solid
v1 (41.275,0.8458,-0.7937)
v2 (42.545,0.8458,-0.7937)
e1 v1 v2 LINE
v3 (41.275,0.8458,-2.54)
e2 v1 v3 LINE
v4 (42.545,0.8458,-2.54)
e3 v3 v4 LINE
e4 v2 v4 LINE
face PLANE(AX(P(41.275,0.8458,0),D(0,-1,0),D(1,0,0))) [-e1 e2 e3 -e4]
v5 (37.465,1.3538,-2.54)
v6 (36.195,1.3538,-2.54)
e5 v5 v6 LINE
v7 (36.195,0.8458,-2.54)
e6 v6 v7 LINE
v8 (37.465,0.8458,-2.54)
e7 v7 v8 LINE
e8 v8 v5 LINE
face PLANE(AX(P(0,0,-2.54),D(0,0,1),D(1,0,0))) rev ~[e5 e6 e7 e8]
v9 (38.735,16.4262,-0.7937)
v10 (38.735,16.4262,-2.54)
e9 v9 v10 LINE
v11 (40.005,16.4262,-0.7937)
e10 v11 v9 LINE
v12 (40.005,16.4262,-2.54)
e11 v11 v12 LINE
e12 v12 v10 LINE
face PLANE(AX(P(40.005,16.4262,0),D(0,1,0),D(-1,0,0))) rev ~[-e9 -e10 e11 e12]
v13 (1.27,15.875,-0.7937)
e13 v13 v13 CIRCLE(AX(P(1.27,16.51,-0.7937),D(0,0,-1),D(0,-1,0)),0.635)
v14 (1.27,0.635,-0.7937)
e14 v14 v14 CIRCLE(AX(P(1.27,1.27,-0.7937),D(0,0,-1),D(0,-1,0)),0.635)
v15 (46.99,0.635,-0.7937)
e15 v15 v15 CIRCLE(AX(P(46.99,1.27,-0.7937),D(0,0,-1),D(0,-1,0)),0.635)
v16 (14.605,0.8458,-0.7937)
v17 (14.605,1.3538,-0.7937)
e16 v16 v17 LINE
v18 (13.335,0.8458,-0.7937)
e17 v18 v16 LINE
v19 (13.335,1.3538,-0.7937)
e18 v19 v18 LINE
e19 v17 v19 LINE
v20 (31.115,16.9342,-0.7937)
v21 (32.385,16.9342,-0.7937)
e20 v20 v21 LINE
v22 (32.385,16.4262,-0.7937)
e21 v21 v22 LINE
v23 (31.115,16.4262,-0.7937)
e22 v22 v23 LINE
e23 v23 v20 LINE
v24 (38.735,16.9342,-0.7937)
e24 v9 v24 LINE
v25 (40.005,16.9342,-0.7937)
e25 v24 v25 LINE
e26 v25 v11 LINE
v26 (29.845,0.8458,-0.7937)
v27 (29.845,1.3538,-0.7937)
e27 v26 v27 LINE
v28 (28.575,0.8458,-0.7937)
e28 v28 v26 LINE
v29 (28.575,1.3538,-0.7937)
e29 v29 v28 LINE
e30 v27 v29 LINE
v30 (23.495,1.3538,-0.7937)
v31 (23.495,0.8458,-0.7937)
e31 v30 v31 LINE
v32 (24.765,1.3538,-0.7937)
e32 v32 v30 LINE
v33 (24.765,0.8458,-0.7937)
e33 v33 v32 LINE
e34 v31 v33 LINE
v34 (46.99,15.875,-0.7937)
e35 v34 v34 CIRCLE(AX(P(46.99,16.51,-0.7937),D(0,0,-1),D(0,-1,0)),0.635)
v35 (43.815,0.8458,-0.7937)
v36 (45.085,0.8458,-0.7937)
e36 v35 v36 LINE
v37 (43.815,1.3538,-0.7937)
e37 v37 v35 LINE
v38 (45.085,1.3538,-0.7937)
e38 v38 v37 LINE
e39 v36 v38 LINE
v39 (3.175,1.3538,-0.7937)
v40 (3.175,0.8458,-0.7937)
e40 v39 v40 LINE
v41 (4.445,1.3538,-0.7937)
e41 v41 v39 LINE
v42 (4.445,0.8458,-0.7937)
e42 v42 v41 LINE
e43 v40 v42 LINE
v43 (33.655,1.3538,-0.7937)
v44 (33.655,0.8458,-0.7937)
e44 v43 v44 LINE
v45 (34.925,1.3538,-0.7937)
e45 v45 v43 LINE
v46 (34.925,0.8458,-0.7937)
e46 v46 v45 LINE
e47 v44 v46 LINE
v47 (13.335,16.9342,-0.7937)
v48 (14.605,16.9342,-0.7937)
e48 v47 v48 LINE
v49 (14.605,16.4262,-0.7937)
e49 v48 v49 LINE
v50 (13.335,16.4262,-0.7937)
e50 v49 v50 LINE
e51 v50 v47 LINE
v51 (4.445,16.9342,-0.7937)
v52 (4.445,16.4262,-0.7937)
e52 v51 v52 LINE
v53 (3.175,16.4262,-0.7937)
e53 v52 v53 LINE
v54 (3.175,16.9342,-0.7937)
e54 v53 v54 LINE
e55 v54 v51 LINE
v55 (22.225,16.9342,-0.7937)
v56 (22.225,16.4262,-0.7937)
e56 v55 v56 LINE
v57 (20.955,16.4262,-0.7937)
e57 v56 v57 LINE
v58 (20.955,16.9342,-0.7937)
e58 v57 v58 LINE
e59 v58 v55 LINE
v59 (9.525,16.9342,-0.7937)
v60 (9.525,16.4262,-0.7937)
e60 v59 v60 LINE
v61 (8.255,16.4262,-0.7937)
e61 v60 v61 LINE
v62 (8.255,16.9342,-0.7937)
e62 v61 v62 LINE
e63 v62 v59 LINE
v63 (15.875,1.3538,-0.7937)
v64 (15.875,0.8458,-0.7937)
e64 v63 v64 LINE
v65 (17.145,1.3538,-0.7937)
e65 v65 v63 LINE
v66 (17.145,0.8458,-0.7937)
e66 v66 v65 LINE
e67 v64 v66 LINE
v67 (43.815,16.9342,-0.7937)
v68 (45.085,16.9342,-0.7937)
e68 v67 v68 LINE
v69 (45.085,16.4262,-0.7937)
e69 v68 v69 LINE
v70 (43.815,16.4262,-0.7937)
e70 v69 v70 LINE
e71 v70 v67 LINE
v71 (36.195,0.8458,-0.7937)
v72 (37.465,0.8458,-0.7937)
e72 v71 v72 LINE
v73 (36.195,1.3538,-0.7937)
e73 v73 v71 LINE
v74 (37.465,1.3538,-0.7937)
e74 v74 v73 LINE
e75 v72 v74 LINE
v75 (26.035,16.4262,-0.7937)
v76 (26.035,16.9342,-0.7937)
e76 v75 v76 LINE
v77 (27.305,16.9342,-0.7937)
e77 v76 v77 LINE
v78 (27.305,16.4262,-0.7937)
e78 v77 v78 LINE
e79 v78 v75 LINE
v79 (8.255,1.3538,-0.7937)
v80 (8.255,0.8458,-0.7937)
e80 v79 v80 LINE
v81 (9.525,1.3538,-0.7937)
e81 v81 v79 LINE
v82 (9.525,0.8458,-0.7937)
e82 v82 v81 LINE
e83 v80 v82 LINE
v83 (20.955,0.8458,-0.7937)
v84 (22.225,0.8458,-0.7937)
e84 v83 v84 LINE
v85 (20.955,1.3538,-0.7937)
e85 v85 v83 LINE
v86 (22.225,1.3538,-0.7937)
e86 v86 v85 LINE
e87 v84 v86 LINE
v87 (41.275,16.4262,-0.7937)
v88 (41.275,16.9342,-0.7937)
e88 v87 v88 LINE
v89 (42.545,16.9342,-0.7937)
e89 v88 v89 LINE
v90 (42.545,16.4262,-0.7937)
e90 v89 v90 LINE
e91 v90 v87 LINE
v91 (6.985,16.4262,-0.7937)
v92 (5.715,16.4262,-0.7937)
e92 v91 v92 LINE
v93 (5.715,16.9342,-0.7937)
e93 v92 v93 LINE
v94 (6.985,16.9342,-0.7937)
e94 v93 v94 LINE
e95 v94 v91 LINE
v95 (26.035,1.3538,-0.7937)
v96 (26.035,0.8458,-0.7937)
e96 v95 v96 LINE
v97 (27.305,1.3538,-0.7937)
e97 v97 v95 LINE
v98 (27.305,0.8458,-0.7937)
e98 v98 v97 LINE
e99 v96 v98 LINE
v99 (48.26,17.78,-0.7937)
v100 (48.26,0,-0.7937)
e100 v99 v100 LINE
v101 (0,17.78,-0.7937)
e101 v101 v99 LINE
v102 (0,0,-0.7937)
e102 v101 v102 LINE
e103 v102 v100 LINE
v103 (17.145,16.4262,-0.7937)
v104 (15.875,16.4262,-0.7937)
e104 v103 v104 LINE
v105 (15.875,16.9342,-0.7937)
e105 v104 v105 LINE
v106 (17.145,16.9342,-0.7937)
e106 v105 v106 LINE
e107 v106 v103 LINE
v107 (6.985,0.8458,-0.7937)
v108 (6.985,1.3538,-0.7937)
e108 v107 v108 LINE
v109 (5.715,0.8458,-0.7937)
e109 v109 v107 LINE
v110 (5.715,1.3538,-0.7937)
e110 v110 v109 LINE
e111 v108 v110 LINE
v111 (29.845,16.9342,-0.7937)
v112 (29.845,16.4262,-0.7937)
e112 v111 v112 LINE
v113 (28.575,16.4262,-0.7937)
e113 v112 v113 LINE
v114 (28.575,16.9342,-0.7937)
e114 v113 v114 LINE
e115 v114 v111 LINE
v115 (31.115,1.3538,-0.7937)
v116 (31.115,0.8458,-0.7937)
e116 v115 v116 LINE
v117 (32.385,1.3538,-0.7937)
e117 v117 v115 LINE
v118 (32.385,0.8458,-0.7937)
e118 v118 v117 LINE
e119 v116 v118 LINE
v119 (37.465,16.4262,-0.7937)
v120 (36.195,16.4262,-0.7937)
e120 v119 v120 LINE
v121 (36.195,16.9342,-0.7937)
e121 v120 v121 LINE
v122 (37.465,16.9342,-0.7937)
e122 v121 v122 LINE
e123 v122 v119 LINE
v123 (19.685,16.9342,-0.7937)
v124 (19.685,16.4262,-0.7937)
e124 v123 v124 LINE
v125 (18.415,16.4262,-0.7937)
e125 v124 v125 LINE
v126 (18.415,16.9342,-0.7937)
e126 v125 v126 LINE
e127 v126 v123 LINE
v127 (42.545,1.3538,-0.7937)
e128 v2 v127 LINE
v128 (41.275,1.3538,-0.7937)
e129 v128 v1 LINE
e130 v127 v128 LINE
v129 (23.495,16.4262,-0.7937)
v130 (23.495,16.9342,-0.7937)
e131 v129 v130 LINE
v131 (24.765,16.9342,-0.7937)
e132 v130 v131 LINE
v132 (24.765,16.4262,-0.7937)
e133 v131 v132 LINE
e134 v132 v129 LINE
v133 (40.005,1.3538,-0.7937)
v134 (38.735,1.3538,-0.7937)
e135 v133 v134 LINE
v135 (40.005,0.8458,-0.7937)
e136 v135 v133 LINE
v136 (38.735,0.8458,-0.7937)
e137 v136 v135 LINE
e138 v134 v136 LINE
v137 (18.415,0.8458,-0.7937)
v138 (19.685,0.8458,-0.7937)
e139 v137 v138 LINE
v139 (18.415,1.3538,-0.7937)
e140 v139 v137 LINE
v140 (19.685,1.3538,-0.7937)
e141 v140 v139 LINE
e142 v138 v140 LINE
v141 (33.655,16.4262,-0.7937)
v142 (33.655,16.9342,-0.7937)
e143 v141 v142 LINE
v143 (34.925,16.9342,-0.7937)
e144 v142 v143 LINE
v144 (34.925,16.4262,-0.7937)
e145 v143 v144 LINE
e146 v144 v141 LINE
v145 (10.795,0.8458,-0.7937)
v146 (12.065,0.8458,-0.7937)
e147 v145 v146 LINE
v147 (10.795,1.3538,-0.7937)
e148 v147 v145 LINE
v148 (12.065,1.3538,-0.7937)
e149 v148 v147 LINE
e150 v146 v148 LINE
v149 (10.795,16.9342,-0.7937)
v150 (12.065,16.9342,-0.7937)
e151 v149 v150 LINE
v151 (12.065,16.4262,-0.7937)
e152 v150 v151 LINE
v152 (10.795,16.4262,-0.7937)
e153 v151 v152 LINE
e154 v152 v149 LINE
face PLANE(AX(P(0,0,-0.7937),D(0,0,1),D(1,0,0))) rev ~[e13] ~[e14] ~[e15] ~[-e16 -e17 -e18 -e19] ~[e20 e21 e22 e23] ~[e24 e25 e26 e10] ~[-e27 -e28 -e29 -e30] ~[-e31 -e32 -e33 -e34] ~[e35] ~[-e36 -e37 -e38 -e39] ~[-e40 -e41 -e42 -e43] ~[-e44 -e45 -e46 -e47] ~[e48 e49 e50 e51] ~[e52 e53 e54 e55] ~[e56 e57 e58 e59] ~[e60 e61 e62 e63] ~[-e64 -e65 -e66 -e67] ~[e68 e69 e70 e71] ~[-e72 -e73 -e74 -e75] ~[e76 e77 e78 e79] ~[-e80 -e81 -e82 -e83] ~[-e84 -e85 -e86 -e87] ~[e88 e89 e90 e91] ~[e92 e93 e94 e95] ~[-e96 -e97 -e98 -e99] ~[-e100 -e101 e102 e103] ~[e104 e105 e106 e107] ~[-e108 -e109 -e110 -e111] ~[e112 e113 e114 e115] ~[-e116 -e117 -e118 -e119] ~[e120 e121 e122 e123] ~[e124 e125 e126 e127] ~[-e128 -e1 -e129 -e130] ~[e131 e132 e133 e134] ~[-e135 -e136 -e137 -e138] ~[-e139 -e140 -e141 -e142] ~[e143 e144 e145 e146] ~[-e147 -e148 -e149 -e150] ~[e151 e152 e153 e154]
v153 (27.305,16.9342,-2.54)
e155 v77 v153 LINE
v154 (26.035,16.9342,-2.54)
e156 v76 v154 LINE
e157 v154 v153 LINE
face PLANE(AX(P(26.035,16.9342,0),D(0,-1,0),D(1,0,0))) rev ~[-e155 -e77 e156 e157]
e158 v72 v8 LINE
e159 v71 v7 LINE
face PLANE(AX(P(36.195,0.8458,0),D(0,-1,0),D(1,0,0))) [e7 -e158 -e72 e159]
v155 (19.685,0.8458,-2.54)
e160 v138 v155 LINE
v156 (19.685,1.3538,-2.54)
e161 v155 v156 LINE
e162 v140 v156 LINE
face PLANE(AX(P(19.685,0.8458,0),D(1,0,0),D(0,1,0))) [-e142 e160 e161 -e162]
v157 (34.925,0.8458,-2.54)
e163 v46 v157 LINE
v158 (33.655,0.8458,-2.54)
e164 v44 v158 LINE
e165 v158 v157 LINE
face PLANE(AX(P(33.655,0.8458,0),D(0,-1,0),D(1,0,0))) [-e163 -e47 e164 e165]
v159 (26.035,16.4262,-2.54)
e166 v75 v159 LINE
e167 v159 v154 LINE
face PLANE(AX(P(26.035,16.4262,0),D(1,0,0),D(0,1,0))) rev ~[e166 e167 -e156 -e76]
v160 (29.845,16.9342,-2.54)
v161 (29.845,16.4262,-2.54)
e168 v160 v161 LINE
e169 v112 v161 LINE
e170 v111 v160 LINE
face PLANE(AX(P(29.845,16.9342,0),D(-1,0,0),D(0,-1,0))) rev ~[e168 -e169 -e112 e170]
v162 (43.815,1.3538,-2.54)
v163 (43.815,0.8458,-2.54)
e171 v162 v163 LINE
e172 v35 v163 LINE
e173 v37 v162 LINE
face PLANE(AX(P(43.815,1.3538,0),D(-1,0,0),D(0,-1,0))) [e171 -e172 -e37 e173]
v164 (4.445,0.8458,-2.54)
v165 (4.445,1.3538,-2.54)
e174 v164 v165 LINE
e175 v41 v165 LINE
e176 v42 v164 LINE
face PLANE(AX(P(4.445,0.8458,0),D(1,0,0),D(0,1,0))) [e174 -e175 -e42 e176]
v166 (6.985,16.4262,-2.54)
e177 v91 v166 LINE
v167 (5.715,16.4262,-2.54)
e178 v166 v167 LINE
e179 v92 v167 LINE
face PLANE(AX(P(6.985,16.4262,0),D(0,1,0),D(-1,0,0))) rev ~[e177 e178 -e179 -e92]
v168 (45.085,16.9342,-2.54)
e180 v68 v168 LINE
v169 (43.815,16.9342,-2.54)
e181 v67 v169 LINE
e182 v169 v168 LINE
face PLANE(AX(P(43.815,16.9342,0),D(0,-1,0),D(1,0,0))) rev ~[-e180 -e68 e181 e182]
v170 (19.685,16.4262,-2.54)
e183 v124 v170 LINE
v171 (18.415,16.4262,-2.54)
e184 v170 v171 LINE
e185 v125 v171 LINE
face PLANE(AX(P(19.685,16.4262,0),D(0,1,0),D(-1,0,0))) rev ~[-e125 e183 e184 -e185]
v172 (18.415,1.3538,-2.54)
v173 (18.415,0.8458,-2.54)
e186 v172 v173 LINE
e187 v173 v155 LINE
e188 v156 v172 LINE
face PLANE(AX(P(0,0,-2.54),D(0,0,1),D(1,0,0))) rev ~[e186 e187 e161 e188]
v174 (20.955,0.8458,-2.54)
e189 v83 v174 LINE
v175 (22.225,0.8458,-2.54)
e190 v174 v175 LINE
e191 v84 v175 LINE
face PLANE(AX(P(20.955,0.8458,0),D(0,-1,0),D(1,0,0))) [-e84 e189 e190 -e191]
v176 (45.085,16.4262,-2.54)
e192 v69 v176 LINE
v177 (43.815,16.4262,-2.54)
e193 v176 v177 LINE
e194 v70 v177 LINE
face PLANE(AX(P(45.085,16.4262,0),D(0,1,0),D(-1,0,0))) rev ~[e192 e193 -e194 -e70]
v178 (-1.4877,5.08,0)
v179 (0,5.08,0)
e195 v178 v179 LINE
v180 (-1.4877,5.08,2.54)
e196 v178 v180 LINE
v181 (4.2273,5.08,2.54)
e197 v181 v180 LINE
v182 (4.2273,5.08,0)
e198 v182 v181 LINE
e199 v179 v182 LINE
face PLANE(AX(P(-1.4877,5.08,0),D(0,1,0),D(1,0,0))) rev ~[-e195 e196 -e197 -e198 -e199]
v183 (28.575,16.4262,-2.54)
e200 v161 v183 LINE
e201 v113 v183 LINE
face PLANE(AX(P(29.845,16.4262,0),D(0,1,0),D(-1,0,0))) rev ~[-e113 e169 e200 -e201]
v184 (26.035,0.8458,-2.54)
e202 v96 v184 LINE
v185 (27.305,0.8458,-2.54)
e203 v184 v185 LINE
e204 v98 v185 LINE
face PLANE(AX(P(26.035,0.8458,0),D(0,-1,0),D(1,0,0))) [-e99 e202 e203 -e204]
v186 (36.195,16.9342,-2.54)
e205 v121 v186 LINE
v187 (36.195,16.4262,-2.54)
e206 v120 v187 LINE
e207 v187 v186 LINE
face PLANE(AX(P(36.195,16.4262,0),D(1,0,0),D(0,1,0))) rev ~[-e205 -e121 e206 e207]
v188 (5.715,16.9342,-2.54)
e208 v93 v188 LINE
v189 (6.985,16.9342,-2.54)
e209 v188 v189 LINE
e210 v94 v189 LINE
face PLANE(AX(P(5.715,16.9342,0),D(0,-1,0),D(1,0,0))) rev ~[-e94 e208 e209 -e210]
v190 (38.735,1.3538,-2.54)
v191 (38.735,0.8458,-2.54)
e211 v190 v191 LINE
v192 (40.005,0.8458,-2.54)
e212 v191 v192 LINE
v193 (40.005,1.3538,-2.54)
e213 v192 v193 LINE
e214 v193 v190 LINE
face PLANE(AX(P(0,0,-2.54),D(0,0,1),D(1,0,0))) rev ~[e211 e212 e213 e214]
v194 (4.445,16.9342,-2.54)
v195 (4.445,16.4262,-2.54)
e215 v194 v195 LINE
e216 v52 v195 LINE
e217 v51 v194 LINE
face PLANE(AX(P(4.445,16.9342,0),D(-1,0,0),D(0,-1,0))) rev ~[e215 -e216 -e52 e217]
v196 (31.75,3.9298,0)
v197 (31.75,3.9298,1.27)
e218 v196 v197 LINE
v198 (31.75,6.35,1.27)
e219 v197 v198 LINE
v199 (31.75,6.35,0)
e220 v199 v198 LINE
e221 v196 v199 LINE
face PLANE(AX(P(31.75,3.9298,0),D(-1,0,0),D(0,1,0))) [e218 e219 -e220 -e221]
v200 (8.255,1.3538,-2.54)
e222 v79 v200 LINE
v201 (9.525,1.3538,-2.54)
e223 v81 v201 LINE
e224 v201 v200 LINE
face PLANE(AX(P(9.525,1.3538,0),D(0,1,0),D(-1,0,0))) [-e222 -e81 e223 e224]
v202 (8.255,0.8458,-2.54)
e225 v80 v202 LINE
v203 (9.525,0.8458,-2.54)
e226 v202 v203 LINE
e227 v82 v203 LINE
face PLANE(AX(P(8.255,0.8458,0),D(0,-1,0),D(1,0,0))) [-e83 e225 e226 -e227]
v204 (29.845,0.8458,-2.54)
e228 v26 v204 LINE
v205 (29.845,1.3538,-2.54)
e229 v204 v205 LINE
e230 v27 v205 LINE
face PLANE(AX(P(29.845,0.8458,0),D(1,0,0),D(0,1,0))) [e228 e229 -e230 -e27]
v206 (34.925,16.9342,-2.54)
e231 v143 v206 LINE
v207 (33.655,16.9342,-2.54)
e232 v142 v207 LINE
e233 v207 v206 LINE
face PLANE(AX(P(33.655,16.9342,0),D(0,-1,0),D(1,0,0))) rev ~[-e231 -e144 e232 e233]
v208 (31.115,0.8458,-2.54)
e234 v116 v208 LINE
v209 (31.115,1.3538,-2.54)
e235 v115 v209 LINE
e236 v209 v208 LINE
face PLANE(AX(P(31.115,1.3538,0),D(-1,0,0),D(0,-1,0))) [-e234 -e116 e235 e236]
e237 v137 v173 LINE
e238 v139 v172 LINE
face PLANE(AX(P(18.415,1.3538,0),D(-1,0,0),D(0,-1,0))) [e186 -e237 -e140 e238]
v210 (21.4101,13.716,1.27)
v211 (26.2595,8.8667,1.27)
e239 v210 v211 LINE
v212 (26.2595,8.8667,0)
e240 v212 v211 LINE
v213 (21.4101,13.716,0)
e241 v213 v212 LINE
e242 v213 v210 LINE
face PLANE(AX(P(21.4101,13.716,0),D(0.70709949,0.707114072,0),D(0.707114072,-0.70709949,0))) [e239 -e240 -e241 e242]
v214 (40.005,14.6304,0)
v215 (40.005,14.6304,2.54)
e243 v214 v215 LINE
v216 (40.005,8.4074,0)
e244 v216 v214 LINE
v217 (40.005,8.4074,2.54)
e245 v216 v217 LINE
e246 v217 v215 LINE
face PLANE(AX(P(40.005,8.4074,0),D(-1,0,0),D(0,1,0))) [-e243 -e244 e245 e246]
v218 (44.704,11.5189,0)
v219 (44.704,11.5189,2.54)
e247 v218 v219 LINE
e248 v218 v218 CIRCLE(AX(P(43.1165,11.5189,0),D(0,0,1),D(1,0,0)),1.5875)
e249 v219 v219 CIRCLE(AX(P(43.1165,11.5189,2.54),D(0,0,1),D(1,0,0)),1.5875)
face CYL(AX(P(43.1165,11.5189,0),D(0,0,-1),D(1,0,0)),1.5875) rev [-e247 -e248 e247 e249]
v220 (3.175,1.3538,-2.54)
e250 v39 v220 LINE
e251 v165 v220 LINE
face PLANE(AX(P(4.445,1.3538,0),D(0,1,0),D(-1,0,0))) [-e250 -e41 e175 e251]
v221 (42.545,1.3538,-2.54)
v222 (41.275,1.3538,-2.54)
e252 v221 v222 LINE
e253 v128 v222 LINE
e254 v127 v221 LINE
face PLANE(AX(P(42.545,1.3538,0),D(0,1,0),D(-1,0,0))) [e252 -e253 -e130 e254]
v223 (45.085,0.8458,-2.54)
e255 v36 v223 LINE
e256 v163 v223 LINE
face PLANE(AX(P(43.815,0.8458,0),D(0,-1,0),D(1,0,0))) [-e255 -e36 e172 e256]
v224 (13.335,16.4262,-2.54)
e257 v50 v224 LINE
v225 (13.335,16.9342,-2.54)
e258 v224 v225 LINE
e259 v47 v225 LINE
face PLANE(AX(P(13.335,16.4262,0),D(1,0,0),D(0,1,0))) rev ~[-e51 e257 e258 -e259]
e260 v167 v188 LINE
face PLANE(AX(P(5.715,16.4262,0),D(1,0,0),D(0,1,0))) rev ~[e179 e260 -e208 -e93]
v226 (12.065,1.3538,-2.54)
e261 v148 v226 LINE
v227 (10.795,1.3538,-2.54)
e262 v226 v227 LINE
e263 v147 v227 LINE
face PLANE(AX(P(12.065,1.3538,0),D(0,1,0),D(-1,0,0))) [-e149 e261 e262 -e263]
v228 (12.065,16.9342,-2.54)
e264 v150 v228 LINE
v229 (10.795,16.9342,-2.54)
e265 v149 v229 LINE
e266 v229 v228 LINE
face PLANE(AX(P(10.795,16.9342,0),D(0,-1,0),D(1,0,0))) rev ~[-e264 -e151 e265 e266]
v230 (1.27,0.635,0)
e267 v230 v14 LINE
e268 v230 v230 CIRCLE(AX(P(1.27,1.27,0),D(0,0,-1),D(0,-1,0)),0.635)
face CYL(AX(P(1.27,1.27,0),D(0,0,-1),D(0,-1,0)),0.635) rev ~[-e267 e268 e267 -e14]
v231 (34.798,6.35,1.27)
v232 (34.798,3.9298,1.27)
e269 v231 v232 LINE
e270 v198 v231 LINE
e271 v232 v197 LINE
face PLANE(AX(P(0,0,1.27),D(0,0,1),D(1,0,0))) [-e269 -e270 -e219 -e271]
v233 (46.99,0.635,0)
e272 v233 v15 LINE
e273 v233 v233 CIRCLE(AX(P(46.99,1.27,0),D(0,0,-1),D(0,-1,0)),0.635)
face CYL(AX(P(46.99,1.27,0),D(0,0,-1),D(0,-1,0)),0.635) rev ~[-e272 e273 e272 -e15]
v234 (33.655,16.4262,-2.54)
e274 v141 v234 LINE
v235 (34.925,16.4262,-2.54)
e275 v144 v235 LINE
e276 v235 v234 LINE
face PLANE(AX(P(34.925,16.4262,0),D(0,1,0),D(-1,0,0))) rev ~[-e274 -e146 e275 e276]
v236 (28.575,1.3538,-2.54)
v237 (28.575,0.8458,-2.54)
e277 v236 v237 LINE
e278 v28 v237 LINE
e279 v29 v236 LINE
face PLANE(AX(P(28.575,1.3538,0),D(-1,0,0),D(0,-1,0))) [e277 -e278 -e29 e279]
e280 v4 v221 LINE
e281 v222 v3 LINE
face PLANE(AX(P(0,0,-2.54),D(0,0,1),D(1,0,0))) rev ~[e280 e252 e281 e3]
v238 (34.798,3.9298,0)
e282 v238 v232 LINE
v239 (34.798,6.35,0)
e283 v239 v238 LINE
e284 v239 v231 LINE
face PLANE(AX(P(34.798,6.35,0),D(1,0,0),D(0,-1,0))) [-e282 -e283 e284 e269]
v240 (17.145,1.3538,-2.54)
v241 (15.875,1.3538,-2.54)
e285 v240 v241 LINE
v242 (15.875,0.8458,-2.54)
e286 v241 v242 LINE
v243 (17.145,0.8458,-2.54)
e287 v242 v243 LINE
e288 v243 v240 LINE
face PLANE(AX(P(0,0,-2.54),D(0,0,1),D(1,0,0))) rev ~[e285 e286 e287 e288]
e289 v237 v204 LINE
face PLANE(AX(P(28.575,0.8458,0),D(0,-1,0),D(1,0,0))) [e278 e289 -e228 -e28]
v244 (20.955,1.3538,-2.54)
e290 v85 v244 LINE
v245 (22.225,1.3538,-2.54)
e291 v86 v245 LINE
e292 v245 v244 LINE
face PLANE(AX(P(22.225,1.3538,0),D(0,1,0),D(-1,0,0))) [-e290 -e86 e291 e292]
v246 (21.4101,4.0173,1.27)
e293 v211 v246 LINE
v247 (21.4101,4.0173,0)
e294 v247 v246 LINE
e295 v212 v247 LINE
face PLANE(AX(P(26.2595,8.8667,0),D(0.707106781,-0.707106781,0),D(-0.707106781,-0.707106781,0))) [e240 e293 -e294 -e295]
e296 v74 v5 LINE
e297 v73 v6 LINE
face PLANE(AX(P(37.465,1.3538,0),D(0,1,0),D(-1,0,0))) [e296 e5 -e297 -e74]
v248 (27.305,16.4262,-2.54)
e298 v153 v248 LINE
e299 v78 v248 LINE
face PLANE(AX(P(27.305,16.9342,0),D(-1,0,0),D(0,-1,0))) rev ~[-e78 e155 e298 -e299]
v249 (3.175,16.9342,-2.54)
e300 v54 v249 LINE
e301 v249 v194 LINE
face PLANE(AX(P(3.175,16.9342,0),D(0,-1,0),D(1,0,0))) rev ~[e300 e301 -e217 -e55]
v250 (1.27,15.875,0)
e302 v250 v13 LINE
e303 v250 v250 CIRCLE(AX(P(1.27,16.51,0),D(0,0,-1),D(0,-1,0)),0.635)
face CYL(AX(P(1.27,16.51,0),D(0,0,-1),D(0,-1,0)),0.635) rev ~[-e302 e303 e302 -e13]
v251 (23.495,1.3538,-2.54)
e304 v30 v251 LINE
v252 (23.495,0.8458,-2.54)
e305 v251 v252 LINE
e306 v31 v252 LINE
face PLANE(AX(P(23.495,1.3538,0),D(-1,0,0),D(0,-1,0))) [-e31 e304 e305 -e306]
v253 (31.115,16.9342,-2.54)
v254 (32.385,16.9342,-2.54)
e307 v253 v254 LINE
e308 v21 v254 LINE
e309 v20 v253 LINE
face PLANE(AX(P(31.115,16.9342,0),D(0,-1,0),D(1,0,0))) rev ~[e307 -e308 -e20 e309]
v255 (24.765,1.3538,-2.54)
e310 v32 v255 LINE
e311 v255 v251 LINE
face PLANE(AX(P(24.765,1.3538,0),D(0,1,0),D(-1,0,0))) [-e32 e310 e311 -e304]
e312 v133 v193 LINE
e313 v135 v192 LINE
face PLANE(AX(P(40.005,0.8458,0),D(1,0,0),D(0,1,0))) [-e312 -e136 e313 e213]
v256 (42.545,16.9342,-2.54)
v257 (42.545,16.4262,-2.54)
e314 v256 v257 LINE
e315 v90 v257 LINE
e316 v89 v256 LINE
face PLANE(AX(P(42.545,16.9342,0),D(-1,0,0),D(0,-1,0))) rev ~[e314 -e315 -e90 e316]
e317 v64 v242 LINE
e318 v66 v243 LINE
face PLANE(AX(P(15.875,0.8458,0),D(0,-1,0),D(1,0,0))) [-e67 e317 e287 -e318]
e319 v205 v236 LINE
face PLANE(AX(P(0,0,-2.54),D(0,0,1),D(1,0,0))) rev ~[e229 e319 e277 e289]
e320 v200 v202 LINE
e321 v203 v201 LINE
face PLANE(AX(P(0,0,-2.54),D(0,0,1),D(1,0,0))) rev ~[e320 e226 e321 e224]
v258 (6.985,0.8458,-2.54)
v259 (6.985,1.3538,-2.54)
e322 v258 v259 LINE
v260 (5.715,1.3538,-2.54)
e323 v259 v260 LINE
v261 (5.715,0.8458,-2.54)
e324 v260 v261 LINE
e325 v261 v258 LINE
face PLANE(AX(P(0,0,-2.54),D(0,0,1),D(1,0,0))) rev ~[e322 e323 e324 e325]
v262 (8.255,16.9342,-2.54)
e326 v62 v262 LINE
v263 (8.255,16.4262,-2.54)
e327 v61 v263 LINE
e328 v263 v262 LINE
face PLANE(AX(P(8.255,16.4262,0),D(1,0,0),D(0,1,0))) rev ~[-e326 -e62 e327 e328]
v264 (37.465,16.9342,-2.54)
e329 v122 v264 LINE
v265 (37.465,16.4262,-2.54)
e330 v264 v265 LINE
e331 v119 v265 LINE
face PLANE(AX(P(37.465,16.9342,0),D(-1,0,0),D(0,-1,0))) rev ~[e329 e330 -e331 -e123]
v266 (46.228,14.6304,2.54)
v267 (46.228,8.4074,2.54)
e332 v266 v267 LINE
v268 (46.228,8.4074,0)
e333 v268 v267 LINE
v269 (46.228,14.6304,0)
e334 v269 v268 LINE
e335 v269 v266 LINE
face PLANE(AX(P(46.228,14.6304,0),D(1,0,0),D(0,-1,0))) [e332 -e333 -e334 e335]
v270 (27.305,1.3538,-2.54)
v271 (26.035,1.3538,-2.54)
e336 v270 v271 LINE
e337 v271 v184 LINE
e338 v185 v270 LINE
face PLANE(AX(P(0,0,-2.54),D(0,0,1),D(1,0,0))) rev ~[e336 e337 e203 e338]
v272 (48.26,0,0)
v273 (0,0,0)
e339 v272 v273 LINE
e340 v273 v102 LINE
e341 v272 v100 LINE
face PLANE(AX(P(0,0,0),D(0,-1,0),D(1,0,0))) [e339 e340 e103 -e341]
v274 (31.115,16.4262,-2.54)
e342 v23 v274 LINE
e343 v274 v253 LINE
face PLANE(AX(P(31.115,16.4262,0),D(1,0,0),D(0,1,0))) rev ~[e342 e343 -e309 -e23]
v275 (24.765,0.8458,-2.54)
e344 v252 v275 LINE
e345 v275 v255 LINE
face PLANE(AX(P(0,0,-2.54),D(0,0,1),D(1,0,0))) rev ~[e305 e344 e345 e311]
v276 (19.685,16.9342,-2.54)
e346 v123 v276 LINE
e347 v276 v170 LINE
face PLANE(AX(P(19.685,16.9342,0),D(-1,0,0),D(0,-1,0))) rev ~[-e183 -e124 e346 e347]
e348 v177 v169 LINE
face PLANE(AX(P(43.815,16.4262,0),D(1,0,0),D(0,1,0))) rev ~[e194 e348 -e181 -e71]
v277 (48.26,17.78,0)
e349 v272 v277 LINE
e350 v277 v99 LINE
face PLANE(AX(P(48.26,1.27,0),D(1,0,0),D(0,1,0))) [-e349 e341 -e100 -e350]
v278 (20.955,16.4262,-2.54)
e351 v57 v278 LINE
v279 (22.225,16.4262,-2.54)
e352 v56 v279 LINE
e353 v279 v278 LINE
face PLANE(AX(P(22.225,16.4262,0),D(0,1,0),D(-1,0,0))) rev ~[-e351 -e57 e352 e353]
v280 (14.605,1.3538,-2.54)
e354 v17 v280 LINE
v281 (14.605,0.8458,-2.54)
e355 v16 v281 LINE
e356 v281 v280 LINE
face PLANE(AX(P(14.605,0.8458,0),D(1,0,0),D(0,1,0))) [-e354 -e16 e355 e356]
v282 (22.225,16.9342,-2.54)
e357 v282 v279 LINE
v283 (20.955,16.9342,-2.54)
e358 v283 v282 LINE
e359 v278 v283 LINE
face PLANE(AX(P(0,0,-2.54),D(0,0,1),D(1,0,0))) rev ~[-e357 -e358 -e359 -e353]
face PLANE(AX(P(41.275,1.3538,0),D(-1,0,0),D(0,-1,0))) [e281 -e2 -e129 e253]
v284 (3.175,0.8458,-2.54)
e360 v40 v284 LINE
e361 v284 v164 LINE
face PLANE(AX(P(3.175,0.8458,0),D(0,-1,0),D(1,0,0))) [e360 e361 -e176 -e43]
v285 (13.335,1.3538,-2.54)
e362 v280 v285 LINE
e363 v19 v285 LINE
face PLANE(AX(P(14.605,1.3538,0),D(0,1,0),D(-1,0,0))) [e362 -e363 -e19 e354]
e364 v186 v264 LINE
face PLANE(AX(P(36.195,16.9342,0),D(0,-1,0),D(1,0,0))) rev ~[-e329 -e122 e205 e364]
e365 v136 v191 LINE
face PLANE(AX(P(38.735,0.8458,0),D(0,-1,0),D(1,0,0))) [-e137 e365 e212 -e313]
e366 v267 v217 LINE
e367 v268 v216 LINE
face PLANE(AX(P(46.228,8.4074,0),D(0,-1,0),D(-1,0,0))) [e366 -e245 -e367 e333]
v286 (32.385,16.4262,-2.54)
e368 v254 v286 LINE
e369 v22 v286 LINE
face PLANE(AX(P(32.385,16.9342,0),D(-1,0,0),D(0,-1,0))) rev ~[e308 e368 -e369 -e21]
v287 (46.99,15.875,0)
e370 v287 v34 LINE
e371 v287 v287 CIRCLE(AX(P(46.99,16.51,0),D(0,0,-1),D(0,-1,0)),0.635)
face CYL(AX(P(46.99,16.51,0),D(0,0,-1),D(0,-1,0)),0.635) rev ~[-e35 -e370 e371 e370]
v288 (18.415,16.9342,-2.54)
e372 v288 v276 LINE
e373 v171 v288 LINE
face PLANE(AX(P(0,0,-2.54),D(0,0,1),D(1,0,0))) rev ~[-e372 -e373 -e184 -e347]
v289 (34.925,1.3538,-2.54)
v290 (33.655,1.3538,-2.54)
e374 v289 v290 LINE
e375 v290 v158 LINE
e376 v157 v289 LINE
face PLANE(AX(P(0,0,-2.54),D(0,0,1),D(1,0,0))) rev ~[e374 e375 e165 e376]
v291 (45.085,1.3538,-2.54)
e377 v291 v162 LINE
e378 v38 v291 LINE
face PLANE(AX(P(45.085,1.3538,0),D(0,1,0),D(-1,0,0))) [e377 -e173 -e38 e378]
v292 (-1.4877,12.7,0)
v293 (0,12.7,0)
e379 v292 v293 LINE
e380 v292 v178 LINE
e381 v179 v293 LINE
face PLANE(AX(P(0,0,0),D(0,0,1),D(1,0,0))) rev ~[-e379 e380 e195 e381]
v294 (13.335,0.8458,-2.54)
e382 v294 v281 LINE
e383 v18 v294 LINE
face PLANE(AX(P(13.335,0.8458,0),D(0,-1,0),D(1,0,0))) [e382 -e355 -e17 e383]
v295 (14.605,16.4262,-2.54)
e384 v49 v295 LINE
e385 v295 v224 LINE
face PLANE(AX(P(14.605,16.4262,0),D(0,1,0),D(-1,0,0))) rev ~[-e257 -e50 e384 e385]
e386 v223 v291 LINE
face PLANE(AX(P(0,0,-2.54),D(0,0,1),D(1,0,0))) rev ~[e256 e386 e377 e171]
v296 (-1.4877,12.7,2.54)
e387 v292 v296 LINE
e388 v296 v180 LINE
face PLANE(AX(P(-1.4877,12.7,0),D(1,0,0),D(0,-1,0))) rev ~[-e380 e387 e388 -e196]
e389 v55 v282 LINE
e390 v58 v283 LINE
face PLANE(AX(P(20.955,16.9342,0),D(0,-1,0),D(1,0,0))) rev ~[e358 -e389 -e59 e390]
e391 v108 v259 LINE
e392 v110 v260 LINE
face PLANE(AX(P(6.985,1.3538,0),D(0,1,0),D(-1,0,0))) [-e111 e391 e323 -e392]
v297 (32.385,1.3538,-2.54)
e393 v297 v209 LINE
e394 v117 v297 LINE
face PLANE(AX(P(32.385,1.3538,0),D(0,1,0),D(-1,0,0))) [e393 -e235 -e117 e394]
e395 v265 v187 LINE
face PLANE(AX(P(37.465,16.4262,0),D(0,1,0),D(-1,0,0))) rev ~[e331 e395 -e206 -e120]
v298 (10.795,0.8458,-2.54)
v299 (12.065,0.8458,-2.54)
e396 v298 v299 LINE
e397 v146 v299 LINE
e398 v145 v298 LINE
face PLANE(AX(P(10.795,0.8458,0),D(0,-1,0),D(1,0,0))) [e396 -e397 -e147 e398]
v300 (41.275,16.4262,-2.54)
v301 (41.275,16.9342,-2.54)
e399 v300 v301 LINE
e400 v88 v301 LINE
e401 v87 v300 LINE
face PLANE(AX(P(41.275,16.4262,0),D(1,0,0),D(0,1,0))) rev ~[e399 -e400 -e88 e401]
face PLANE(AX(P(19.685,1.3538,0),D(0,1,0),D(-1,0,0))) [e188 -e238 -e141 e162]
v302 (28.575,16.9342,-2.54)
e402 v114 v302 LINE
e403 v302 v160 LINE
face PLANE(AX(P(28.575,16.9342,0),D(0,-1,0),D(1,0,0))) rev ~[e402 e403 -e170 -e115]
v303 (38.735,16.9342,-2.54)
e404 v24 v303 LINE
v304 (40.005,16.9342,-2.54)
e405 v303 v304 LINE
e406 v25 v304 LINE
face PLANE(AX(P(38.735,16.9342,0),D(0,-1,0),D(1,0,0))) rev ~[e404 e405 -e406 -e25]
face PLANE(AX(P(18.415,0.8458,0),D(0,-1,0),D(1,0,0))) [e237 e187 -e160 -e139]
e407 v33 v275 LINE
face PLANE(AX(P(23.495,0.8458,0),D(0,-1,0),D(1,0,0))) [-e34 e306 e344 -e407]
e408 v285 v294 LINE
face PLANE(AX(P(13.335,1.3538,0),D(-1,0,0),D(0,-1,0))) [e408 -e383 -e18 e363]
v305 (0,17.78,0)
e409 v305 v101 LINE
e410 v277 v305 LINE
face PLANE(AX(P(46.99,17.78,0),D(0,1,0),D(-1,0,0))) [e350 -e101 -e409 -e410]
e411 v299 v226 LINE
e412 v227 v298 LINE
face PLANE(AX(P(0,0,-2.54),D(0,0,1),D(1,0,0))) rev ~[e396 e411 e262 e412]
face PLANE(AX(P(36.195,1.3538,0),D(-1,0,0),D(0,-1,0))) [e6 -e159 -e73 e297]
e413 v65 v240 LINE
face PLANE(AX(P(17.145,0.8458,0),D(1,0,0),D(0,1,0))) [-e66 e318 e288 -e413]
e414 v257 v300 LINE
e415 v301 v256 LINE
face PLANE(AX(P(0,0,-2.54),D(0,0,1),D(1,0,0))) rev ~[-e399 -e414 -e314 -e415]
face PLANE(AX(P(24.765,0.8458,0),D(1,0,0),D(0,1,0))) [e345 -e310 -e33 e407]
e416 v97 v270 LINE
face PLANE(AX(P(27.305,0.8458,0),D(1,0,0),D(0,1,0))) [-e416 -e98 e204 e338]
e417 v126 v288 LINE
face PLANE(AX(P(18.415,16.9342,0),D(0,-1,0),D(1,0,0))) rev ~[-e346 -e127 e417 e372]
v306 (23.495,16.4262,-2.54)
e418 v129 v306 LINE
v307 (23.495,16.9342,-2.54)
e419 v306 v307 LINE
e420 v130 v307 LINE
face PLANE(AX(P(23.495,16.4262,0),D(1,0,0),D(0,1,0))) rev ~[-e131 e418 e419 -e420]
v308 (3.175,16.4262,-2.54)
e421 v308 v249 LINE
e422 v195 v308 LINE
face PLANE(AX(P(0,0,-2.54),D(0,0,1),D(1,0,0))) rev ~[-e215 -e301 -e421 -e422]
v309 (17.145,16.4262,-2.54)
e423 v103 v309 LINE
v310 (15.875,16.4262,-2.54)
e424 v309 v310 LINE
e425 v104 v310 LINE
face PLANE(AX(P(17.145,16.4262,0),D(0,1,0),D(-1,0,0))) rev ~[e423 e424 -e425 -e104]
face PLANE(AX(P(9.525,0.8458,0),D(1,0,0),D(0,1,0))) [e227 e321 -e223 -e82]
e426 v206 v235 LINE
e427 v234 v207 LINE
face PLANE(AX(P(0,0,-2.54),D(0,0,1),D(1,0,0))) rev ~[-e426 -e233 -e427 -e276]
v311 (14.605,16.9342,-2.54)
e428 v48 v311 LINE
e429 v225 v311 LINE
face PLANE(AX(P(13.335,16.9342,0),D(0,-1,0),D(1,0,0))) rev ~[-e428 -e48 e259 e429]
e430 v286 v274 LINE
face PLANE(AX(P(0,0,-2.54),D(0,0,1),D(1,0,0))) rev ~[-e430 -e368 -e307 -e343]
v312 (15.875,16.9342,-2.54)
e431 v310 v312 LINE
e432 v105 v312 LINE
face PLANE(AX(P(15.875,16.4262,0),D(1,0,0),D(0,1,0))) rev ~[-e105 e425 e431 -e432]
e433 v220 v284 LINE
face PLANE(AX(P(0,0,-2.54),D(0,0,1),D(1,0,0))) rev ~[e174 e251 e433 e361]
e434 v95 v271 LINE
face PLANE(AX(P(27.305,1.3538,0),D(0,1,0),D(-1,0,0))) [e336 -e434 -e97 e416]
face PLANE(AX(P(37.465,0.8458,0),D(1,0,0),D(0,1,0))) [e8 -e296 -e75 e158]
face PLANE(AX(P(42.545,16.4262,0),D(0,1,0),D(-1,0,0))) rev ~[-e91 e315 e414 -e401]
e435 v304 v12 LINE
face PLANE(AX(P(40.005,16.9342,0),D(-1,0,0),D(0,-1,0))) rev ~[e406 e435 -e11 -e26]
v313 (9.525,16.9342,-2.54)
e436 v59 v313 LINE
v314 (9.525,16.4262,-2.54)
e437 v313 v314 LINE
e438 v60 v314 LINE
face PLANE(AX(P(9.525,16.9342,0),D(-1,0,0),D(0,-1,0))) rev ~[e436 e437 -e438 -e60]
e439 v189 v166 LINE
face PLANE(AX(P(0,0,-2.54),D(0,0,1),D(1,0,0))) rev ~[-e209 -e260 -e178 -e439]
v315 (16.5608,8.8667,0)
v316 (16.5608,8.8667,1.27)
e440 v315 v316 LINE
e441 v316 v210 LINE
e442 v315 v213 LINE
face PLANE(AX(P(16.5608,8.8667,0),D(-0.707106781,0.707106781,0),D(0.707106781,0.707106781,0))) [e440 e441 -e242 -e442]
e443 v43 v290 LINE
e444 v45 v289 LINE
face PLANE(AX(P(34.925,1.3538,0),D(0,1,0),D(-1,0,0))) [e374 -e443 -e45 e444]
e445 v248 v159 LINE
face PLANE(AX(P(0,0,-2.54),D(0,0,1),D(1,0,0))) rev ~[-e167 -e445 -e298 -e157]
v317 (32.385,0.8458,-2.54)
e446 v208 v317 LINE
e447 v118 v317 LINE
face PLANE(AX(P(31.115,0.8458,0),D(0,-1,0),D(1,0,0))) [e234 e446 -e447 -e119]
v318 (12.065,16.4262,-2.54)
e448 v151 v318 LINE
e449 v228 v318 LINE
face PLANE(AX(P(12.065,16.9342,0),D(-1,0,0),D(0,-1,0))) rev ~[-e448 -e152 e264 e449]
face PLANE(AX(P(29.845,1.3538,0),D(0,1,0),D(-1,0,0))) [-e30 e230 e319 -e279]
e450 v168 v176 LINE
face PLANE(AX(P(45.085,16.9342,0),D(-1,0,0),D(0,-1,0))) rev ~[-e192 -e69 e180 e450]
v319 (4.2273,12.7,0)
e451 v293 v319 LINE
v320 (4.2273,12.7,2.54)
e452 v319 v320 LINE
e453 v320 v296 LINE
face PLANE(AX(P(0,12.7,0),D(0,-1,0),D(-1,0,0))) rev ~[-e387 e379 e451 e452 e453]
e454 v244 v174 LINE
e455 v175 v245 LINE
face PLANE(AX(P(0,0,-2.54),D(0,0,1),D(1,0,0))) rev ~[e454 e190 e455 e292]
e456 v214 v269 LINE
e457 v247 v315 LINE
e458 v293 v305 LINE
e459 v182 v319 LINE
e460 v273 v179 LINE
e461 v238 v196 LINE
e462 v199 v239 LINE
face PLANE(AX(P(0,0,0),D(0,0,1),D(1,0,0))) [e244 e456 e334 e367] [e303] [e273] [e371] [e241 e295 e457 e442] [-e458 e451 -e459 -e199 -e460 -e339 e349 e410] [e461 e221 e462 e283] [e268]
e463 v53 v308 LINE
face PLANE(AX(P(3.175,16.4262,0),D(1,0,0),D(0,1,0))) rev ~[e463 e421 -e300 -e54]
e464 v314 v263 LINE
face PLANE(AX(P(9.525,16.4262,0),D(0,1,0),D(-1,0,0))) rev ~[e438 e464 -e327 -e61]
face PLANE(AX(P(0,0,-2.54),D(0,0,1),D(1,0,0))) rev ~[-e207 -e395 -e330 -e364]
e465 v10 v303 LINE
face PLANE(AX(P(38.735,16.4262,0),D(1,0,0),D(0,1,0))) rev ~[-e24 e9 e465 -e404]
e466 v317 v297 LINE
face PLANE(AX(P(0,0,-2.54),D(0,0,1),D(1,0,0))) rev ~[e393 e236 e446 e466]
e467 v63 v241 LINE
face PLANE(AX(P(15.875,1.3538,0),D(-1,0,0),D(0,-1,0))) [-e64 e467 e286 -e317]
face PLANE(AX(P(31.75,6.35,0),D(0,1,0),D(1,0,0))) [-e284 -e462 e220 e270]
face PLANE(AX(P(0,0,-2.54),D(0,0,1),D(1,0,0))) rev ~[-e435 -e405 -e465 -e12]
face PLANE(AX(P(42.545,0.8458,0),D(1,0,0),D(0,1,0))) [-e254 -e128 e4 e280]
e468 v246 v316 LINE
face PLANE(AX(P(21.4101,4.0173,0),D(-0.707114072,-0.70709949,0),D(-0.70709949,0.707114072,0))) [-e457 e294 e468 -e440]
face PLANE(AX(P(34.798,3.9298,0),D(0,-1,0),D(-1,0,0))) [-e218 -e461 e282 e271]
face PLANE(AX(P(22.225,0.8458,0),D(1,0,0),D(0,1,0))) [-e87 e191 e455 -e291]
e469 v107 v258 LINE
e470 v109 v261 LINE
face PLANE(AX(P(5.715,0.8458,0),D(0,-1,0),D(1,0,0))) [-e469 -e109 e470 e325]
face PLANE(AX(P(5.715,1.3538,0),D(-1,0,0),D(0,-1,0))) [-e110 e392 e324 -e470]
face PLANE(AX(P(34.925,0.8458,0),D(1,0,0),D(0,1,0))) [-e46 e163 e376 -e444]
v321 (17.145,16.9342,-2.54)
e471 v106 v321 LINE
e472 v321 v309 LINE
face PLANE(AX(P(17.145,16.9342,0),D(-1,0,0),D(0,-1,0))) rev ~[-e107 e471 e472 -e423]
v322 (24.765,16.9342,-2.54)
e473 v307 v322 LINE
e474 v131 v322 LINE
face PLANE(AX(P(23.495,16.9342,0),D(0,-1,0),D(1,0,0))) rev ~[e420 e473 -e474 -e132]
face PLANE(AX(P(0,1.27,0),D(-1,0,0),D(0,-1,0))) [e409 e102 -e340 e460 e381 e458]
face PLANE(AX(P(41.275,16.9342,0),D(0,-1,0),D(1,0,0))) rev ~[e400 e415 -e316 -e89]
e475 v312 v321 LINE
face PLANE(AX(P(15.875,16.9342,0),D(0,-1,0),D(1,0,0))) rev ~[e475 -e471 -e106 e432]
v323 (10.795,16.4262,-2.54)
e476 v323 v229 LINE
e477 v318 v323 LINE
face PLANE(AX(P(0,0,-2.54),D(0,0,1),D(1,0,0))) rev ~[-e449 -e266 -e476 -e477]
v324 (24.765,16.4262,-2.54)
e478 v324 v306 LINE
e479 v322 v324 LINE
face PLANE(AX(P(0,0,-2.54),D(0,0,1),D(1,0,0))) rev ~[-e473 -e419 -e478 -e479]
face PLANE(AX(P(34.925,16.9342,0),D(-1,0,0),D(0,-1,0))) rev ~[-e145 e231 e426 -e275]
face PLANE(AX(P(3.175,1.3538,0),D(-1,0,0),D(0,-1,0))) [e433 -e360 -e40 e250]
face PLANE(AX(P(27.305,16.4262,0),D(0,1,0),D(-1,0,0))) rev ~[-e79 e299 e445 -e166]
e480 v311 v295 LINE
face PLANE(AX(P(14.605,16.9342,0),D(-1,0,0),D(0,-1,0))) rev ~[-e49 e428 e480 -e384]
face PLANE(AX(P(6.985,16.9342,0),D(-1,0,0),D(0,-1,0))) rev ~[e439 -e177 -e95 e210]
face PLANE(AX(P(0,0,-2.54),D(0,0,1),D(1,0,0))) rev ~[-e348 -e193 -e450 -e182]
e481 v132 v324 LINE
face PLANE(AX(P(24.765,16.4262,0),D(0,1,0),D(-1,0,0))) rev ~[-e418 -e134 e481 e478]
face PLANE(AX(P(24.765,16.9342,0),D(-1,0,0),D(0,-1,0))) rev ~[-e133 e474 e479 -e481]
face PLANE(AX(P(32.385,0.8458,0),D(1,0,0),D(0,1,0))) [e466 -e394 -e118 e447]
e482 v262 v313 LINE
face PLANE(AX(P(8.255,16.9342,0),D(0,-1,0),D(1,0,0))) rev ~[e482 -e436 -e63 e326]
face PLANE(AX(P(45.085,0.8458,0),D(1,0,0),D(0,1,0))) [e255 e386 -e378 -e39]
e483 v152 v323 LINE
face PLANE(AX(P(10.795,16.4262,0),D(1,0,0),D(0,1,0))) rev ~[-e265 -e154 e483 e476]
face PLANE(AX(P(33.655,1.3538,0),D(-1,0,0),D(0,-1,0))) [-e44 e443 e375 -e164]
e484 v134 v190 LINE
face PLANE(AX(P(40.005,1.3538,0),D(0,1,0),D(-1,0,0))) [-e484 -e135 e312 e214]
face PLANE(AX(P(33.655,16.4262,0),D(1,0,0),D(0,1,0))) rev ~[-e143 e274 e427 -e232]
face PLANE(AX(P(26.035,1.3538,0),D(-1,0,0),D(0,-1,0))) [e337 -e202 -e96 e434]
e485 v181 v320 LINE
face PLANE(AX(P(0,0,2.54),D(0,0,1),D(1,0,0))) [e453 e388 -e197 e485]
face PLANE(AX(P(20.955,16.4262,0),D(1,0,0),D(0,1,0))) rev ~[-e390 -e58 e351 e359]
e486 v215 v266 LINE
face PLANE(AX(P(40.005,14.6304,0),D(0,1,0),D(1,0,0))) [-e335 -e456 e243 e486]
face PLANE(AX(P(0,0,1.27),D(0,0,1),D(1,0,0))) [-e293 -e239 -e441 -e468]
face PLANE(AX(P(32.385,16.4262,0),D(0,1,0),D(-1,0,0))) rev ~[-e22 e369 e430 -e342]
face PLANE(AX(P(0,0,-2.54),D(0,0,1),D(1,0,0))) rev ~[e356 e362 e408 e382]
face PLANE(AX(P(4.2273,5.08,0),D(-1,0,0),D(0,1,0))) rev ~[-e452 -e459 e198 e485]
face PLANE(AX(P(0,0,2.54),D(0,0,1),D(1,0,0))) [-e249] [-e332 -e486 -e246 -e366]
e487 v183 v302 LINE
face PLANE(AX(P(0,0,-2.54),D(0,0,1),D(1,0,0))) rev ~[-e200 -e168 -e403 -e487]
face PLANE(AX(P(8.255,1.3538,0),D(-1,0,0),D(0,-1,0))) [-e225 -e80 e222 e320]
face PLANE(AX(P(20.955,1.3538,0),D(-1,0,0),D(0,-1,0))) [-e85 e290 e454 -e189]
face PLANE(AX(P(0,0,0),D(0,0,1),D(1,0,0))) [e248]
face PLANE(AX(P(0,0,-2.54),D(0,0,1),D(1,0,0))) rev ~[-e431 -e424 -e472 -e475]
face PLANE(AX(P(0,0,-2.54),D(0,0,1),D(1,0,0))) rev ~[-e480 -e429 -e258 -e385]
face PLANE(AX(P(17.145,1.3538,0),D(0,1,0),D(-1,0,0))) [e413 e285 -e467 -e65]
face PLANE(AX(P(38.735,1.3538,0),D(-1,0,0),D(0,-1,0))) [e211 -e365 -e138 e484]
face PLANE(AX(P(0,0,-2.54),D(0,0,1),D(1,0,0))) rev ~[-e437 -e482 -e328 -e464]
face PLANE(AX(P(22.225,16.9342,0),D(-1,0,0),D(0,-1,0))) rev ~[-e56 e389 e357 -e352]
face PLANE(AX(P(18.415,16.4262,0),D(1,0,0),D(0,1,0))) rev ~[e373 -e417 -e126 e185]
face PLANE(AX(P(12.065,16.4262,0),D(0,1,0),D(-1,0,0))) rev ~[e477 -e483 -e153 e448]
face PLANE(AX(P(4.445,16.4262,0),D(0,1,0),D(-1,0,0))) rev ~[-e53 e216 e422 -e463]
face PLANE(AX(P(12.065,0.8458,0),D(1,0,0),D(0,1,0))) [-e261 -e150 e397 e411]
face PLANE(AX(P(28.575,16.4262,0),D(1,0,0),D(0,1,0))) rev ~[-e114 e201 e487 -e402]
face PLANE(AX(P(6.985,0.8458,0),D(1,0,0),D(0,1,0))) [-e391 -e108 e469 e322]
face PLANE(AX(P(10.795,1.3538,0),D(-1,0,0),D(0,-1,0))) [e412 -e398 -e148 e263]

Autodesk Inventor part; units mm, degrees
ref_plane "YZ Plane" through (0, 0, 0) normal (1, 0, 0) x (0, 1, 0)
ref_plane "XZ Plane" through (0, 0, 0) normal (0, 1, 0) x (-1, 0, 0)
ref_plane "XY Plane" through (0, 0, 0) normal (0, 0, 1) x (1, 0, 0)
sketch "TopProfile" plane through (0, 0, 0) normal (0, 0, 1) x (1, 0, 0)
  line L0 (0, 0) -> (48.26, 0)
  line L1 (48.26, 0) -> (48.26, 17.78)
  line L2 (48.26, 17.78) -> (0, 17.78)
  line L3 (0, 17.78) -> (0, 0)
  circle A0 centre (1.27, 16.51) radius 1.27
  circle A1 centre (46.99, 16.51) radius 1.27
  circle A2 centre (1.27, 1.27) radius 1.27
  circle A3 centre (46.99, 1.27) radius 1.27
  line L4 (16.5608, 8.8667) -> (21.4101, 13.716)
  line L5 (21.4101, 13.716) -> (26.2595, 8.8667)
  line L6 (26.2595, 8.8667) -> (21.4101, 4.0173)
  line L7 (21.4101, 4.0173) -> (16.5608, 8.8667)
  line L8 (40.005, 14.6304) -> (46.228, 14.6304)
  line L9 (46.228, 14.6304) -> (46.228, 8.4074)
  line L10 (46.228, 8.4074) -> (40.005, 8.4074)
  line L11 (40.005, 8.4074) -> (40.005, 14.6304)
  line L12 (43.1165, 14.6304) -> (43.1165, 8.4074) construction
  line L13 (40.005, 11.5189) -> (46.228, 11.5189) construction
  circle A4 centre (43.1165, 11.5189) radius 1.5875
  line L14 (4.2273, 12.7) -> (-1.4877, 12.7)
  line L15 (-1.4877, 12.7) -> (-1.4877, 5.08)
  line L16 (-1.4877, 5.08) -> (4.2273, 5.08)
  line L17 (4.2273, 5.08) -> (4.2273, 12.7)
  line L18 (-1.4877, 8.89) -> (4.2273, 8.89) construction
  line L19 (31.75, 6.35) -> (34.798, 6.35)
  line L20 (34.798, 6.35) -> (34.798, 3.9298)
  line L21 (34.798, 3.9298) -> (31.75, 3.9298)
  line L22 (31.75, 3.9298) -> (31.75, 6.35)
  line L23 (3.175, 16.9342) -> (4.445, 16.9342)
  line L24 (4.445, 16.9342) -> (4.445, 16.4262)
  line L25 (4.445, 16.4262) -> (3.175, 16.4262)
  line L26 (3.175, 16.4262) -> (3.175, 16.9342)
  line L27 (5.715, 16.4262) -> (5.715, 16.9342)
  line L28 (5.715, 16.9342) -> (6.985, 16.9342)
  line L29 (6.985, 16.4262) -> (5.715, 16.4262)
  line L30 (6.985, 16.9342) -> (6.985, 16.4262)
  line L31 (8.255, 16.4262) -> (8.255, 16.9342)
  line L32 (8.255, 16.9342) -> (9.525, 16.9342)
  line L33 (9.525, 16.4262) -> (8.255, 16.4262)
  line L34 (9.525, 16.9342) -> (9.525, 16.4262)
  line L35 (10.795, 16.4262) -> (10.795, 16.9342)
  line L36 (10.795, 16.9342) -> (12.065, 16.9342)
  line L37 (12.065, 16.4262) -> (10.795, 16.4262)
  line L38 (12.065, 16.9342) -> (12.065, 16.4262)
  line L39 (13.335, 16.4262) -> (13.335, 16.9342)
  line L40 (13.335, 16.9342) -> (14.605, 16.9342)
  line L41 (14.605, 16.4262) -> (13.335, 16.4262)
  line L42 (14.605, 16.9342) -> (14.605, 16.4262)
  line L43 (15.875, 16.4262) -> (15.875, 16.9342)
  line L44 (15.875, 16.9342) -> (17.145, 16.9342)
  line L45 (17.145, 16.4262) -> (15.875, 16.4262)
  line L46 (17.145, 16.9342) -> (17.145, 16.4262)
  line L47 (18.415, 16.4262) -> (18.415, 16.9342)
  line L48 (18.415, 16.9342) -> (19.685, 16.9342)
  line L49 (19.685, 16.4262) -> (18.415, 16.4262)
  line L50 (19.685, 16.9342) -> (19.685, 16.4262)
  line L51 (20.955, 16.4262) -> (20.955, 16.9342)
  line L52 (20.955, 16.9342) -> (22.225, 16.9342)
  line L53 (22.225, 16.4262) -> (20.955, 16.4262)
  line L54 (22.225, 16.9342) -> (22.225, 16.4262)
  line L55 (23.495, 16.4262) -> (23.495, 16.9342)
  line L56 (23.495, 16.9342) -> (24.765, 16.9342)
  line L57 (24.765, 16.4262) -> (23.495, 16.4262)
  line L58 (24.765, 16.9342) -> (24.765, 16.4262)
  line L59 (26.035, 16.4262) -> (26.035, 16.9342)
  line L60 (26.035, 16.9342) -> (27.305, 16.9342)
  line L61 (27.305, 16.4262) -> (26.035, 16.4262)
  line L62 (27.305, 16.9342) -> (27.305, 16.4262)
  line L63 (28.575, 16.4262) -> (28.575, 16.9342)
  line L64 (28.575, 16.9342) -> (29.845, 16.9342)
  line L65 (29.845, 16.4262) -> (28.575, 16.4262)
  line L66 (29.845, 16.9342) -> (29.845, 16.4262)
  line L67 (31.115, 16.4262) -> (31.115, 16.9342)
  line L68 (31.115, 16.9342) -> (32.385, 16.9342)
  line L69 (32.385, 16.4262) -> (31.115, 16.4262)
  line L70 (32.385, 16.9342) -> (32.385, 16.4262)
  line L71 (33.655, 16.4262) -> (33.655, 16.9342)
  line L72 (33.655, 16.9342) -> (34.925, 16.9342)
  line L73 (34.925, 16.4262) -> (33.655, 16.4262)
  line L74 (34.925, 16.9342) -> (34.925, 16.4262)
  line L75 (36.195, 16.4262) -> (36.195, 16.9342)
  line L76 (36.195, 16.9342) -> (37.465, 16.9342)
  line L77 (37.465, 16.4262) -> (36.195, 16.4262)
  line L78 (37.465, 16.9342) -> (37.465, 16.4262)
  line L79 (38.735, 16.4262) -> (38.735, 16.9342)
  line L80 (38.735, 16.9342) -> (40.005, 16.9342)
  line L81 (40.005, 16.4262) -> (38.735, 16.4262)
  line L82 (40.005, 16.9342) -> (40.005, 16.4262)
  line L83 (41.275, 16.4262) -> (41.275, 16.9342)
  line L84 (41.275, 16.9342) -> (42.545, 16.9342)
  line L85 (42.545, 16.4262) -> (41.275, 16.4262)
  line L86 (42.545, 16.9342) -> (42.545, 16.4262)
  line L87 (43.815, 16.4262) -> (43.815, 16.9342)
  line L88 (43.815, 16.9342) -> (45.085, 16.9342)
  line L89 (45.085, 16.4262) -> (43.815, 16.4262)
  line L90 (45.085, 16.9342) -> (45.085, 16.4262)
  line L91 (3.175, 0.8458) -> (4.445, 0.8458)
  line L92 (4.445, 0.8458) -> (4.445, 1.3538)
  line L93 (4.445, 1.3538) -> (3.175, 1.3538)
  line L94 (3.175, 1.3538) -> (3.175, 0.8458)
  line L95 (5.715, 1.3538) -> (5.715, 0.8458)
  line L96 (5.715, 0.8458) -> (6.985, 0.8458)
  line L97 (6.985, 1.3538) -> (5.715, 1.3538)
  line L98 (6.985, 0.8458) -> (6.985, 1.3538)
  line L99 (8.255, 1.3538) -> (8.255, 0.8458)
  line L100 (8.255, 0.8458) -> (9.525, 0.8458)
  line L101 (9.525, 1.3538) -> (8.255, 1.3538)
  line L102 (9.525, 0.8458) -> (9.525, 1.3538)
  line L103 (10.795, 1.3538) -> (10.795, 0.8458)
  line L104 (10.795, 0.8458) -> (12.065, 0.8458)
  line L105 (12.065, 1.3538) -> (10.795, 1.3538)
  line L106 (12.065, 0.8458) -> (12.065, 1.3538)
  line L107 (13.335, 1.3538) -> (13.335, 0.8458)
  line L108 (13.335, 0.8458) -> (14.605, 0.8458)
  line L109 (14.605, 1.3538) -> (13.335, 1.3538)
  line L110 (14.605, 0.8458) -> (14.605, 1.3538)
  line L111 (15.875, 1.3538) -> (15.875, 0.8458)
  line L112 (15.875, 0.8458) -> (17.145, 0.8458)
  line L113 (17.145, 1.3538) -> (15.875, 1.3538)
  line L114 (17.145, 0.8458) -> (17.145, 1.3538)
  line L115 (18.415, 1.3538) -> (18.415, 0.8458)
  line L116 (18.415, 0.8458) -> (19.685, 0.8458)
  line L117 (19.685, 1.3538) -> (18.415, 1.3538)
  line L118 (19.685, 0.8458) -> (19.685, 1.3538)
  line L119 (20.955, 1.3538) -> (20.955, 0.8458)
  line L120 (20.955, 0.8458) -> (22.225, 0.8458)
  line L121 (22.225, 1.3538) -> (20.955, 1.3538)
  line L122 (22.225, 0.8458) -> (22.225, 1.3538)
  line L123 (23.495, 1.3538) -> (23.495, 0.8458)
  line L124 (23.495, 0.8458) -> (24.765, 0.8458)
  line L125 (24.765, 1.3538) -> (23.495, 1.3538)
  line L126 (24.765, 0.8458) -> (24.765, 1.3538)
  line L127 (26.035, 1.3538) -> (26.035, 0.8458)
  line L128 (26.035, 0.8458) -> (27.305, 0.8458)
  line L129 (27.305, 1.3538) -> (26.035, 1.3538)
  line L130 (27.305, 0.8458) -> (27.305, 1.3538)
  line L131 (28.575, 1.3538) -> (28.575, 0.8458)
  line L132 (28.575, 0.8458) -> (29.845, 0.8458)
  line L133 (29.845, 1.3538) -> (28.575, 1.3538)
  line L134 (29.845, 0.8458) -> (29.845, 1.3538)
  line L135 (31.115, 1.3538) -> (31.115, 0.8458)
  line L136 (31.115, 0.8458) -> (32.385, 0.8458)
  line L137 (32.385, 1.3538) -> (31.115, 1.3538)
  line L138 (32.385, 0.8458) -> (32.385, 1.3538)
  line L139 (33.655, 1.3538) -> (33.655, 0.8458)
  line L140 (33.655, 0.8458) -> (34.925, 0.8458)
  line L141 (34.925, 1.3538) -> (33.655, 1.3538)
  line L142 (34.925, 0.8458) -> (34.925, 1.3538)
  line L143 (36.195, 1.3538) -> (36.195, 0.8458)
  line L144 (36.195, 0.8458) -> (37.465, 0.8458)
  line L145 (37.465, 1.3538) -> (36.195, 1.3538)
  line L146 (37.465, 0.8458) -> (37.465, 1.3538)
  line L147 (38.735, 1.3538) -> (38.735, 0.8458)
  line L148 (38.735, 0.8458) -> (40.005, 0.8458)
  line L149 (40.005, 1.3538) -> (38.735, 1.3538)
  line L150 (40.005, 0.8458) -> (40.005, 1.3538)
  line L151 (41.275, 1.3538) -> (41.275, 0.8458)
  line L152 (41.275, 0.8458) -> (42.545, 0.8458)
  line L153 (42.545, 1.3538) -> (41.275, 1.3538)
  line L154 (42.545, 0.8458) -> (42.545, 1.3538)
  line L155 (43.815, 1.3538) -> (43.815, 0.8458)
  line L156 (43.815, 0.8458) -> (45.085, 0.8458)
  line L157 (45.085, 1.3538) -> (43.815, 1.3538)
  line L158 (45.085, 0.8458) -> (45.085, 1.3538)
  circle A5 centre (1.27, 16.51) radius 0.635
  circle A6 centre (1.27, 1.27) radius 0.635
  circle A7 centre (46.99, 16.51) radius 0.635
  circle A8 centre (46.99, 1.27) radius 0.635
  point P0 (0, 8.89)
  dimension "d0" = 48.26
  dimension "d1" = 17.78
  dimension "d2" = 2.54
  dimension "d3" = 6.858
  dimension "d4" = 45
  dimension "d5" = 4.064
  dimension "d6" = 6.223
  dimension "d7" = 3.1496
  dimension "d8" = 2.032
  dimension "d9" = 3.175
  dimension "d10" = 5.715
  dimension "d11" = 7.62
  dimension "d12" = 1.4877
  dimension "d13" = 16.5608
  dimension "d14" = 3.048
  dimension "d15" = 2.4202
  dimension "d16" = 11.43
  dimension "d17" = 13.462
  dimension "d18" = 0.508
  dimension "d19" = 1.27
  dimension "d20" = 3.175
  dimension "d21" = 0.8458
  dimension "d24" = 2.54
  dimension "d29" = 1.27
extrude "BaseFeature" add sketch "TopProfile" against normal blind 0.7937 contours L3 A2 L0 | A2 L3 L16 L17 L14 A0 L2 A1 L1 A3 L0 | A2 | A3 L1 L0 | A3 | L3 L14 L17 L16 | A1 L2 L1 | A1 | L3 L2 A0 | A0 | L4 L5 L6 L7 | L8 L9 L10 L11 | A4 | L19 L20 L21 L22 | L23 L24 L25 L26 | L27 L28 L30 L29 | L31 L32 L34 L33 | L35 L36 L38 L37 | L39 L40 L42 L41 | L43 L44 L46 L45 | L47 L48 L50 L49 | L51 L52 L54 L53 | L55 L56 L58 L57 | L59 L60 L62 L61 | L63 L64 L66 L65 | L67 L68 L70 L69 | L71 L72 L74 L73 | L75 L76 L78 L77 | L79 L80 L82 L81 | L83 L84 L86 L85 | L87 L88 L90 L89 | L94 L93 L92 L91 | L97 L98 L96 L95 | L101 L102 L100 L99 | L105 L106 L104 L103 | L109 L110 L108 L107 | L113 L114 L112 L111 | L117 L118 L116 L115 | L121 L122 L120 L119 | L125 L126 L124 L123 | L129 L130 L128 L127 | L133 L134 L132 L131 | L137 L138 L136 L135 | L141 L142 L140 L139 | L145 L146 L144 L143 | L149 L150 L148 L147 | L153 L154 L152 L151 | L157 L158 L156 L155 | A5 | A6 | A7 | A8
extrude "UsbFeature" add sketch "TopProfile" along normal blind 2.54 contours L16 L15 L14 L3 | L3 L14 L17 L16 | L8 L9 L10 L11
extrude "ChipsFeature" add sketch "TopProfile" along normal blind 1.27 contours L4 L5 L6 L7 | L19 L20 L21 L22
hole "MountHolesFeature" at (1.27, 16.51, 0) at (1.27, 1.27, 0) at (46.99, 16.51, 0) at (46.99, 1.27, 0) direction (0, 0, -1) diameter 1.27 end through all
extrude "Extrusion4" add sketch "TopProfile" against normal blind 2.54 contours L23 L24 L25 L26 | L27 L28 L30 L29 | L31 L32 L34 L33 | L35 L36 L38 L37 | L39 L40 L42 L41 | L43 L44 L46 L45 | L47 L48 L50 L49 | L51 L52 L54 L53 | L55 L56 L58 L57 | L59 L60 L62 L61 | L63 L64 L66 L65 | L67 L68 L70 L69 | L71 L72 L74 L73 | L75 L76 L78 L77 | L79 L80 L82 L81 | L83 L84 L86 L85 | L87 L88 L90 L89 | L94 L93 L92 L91 | L97 L98 L96 L95 | L101 L102 L100 L99 | L105 L106 L104 L103 | L109 L110 L108 L107 | L113 L114 L112 L111 | L117 L118 L116 L115 | L121 L122 L120 L119 | L125 L126 L124 L123 | L129 L130 L128 L127 | L133 L134 L132 L131 | L137 L138 L136 L135 | L141 L142 L140 L139 | L145 L146 L144 L143 | L149 L150 L148 L147 | L153 L154 L152 L151 | L157 L158 L156 L155
properties part number "arduino"
